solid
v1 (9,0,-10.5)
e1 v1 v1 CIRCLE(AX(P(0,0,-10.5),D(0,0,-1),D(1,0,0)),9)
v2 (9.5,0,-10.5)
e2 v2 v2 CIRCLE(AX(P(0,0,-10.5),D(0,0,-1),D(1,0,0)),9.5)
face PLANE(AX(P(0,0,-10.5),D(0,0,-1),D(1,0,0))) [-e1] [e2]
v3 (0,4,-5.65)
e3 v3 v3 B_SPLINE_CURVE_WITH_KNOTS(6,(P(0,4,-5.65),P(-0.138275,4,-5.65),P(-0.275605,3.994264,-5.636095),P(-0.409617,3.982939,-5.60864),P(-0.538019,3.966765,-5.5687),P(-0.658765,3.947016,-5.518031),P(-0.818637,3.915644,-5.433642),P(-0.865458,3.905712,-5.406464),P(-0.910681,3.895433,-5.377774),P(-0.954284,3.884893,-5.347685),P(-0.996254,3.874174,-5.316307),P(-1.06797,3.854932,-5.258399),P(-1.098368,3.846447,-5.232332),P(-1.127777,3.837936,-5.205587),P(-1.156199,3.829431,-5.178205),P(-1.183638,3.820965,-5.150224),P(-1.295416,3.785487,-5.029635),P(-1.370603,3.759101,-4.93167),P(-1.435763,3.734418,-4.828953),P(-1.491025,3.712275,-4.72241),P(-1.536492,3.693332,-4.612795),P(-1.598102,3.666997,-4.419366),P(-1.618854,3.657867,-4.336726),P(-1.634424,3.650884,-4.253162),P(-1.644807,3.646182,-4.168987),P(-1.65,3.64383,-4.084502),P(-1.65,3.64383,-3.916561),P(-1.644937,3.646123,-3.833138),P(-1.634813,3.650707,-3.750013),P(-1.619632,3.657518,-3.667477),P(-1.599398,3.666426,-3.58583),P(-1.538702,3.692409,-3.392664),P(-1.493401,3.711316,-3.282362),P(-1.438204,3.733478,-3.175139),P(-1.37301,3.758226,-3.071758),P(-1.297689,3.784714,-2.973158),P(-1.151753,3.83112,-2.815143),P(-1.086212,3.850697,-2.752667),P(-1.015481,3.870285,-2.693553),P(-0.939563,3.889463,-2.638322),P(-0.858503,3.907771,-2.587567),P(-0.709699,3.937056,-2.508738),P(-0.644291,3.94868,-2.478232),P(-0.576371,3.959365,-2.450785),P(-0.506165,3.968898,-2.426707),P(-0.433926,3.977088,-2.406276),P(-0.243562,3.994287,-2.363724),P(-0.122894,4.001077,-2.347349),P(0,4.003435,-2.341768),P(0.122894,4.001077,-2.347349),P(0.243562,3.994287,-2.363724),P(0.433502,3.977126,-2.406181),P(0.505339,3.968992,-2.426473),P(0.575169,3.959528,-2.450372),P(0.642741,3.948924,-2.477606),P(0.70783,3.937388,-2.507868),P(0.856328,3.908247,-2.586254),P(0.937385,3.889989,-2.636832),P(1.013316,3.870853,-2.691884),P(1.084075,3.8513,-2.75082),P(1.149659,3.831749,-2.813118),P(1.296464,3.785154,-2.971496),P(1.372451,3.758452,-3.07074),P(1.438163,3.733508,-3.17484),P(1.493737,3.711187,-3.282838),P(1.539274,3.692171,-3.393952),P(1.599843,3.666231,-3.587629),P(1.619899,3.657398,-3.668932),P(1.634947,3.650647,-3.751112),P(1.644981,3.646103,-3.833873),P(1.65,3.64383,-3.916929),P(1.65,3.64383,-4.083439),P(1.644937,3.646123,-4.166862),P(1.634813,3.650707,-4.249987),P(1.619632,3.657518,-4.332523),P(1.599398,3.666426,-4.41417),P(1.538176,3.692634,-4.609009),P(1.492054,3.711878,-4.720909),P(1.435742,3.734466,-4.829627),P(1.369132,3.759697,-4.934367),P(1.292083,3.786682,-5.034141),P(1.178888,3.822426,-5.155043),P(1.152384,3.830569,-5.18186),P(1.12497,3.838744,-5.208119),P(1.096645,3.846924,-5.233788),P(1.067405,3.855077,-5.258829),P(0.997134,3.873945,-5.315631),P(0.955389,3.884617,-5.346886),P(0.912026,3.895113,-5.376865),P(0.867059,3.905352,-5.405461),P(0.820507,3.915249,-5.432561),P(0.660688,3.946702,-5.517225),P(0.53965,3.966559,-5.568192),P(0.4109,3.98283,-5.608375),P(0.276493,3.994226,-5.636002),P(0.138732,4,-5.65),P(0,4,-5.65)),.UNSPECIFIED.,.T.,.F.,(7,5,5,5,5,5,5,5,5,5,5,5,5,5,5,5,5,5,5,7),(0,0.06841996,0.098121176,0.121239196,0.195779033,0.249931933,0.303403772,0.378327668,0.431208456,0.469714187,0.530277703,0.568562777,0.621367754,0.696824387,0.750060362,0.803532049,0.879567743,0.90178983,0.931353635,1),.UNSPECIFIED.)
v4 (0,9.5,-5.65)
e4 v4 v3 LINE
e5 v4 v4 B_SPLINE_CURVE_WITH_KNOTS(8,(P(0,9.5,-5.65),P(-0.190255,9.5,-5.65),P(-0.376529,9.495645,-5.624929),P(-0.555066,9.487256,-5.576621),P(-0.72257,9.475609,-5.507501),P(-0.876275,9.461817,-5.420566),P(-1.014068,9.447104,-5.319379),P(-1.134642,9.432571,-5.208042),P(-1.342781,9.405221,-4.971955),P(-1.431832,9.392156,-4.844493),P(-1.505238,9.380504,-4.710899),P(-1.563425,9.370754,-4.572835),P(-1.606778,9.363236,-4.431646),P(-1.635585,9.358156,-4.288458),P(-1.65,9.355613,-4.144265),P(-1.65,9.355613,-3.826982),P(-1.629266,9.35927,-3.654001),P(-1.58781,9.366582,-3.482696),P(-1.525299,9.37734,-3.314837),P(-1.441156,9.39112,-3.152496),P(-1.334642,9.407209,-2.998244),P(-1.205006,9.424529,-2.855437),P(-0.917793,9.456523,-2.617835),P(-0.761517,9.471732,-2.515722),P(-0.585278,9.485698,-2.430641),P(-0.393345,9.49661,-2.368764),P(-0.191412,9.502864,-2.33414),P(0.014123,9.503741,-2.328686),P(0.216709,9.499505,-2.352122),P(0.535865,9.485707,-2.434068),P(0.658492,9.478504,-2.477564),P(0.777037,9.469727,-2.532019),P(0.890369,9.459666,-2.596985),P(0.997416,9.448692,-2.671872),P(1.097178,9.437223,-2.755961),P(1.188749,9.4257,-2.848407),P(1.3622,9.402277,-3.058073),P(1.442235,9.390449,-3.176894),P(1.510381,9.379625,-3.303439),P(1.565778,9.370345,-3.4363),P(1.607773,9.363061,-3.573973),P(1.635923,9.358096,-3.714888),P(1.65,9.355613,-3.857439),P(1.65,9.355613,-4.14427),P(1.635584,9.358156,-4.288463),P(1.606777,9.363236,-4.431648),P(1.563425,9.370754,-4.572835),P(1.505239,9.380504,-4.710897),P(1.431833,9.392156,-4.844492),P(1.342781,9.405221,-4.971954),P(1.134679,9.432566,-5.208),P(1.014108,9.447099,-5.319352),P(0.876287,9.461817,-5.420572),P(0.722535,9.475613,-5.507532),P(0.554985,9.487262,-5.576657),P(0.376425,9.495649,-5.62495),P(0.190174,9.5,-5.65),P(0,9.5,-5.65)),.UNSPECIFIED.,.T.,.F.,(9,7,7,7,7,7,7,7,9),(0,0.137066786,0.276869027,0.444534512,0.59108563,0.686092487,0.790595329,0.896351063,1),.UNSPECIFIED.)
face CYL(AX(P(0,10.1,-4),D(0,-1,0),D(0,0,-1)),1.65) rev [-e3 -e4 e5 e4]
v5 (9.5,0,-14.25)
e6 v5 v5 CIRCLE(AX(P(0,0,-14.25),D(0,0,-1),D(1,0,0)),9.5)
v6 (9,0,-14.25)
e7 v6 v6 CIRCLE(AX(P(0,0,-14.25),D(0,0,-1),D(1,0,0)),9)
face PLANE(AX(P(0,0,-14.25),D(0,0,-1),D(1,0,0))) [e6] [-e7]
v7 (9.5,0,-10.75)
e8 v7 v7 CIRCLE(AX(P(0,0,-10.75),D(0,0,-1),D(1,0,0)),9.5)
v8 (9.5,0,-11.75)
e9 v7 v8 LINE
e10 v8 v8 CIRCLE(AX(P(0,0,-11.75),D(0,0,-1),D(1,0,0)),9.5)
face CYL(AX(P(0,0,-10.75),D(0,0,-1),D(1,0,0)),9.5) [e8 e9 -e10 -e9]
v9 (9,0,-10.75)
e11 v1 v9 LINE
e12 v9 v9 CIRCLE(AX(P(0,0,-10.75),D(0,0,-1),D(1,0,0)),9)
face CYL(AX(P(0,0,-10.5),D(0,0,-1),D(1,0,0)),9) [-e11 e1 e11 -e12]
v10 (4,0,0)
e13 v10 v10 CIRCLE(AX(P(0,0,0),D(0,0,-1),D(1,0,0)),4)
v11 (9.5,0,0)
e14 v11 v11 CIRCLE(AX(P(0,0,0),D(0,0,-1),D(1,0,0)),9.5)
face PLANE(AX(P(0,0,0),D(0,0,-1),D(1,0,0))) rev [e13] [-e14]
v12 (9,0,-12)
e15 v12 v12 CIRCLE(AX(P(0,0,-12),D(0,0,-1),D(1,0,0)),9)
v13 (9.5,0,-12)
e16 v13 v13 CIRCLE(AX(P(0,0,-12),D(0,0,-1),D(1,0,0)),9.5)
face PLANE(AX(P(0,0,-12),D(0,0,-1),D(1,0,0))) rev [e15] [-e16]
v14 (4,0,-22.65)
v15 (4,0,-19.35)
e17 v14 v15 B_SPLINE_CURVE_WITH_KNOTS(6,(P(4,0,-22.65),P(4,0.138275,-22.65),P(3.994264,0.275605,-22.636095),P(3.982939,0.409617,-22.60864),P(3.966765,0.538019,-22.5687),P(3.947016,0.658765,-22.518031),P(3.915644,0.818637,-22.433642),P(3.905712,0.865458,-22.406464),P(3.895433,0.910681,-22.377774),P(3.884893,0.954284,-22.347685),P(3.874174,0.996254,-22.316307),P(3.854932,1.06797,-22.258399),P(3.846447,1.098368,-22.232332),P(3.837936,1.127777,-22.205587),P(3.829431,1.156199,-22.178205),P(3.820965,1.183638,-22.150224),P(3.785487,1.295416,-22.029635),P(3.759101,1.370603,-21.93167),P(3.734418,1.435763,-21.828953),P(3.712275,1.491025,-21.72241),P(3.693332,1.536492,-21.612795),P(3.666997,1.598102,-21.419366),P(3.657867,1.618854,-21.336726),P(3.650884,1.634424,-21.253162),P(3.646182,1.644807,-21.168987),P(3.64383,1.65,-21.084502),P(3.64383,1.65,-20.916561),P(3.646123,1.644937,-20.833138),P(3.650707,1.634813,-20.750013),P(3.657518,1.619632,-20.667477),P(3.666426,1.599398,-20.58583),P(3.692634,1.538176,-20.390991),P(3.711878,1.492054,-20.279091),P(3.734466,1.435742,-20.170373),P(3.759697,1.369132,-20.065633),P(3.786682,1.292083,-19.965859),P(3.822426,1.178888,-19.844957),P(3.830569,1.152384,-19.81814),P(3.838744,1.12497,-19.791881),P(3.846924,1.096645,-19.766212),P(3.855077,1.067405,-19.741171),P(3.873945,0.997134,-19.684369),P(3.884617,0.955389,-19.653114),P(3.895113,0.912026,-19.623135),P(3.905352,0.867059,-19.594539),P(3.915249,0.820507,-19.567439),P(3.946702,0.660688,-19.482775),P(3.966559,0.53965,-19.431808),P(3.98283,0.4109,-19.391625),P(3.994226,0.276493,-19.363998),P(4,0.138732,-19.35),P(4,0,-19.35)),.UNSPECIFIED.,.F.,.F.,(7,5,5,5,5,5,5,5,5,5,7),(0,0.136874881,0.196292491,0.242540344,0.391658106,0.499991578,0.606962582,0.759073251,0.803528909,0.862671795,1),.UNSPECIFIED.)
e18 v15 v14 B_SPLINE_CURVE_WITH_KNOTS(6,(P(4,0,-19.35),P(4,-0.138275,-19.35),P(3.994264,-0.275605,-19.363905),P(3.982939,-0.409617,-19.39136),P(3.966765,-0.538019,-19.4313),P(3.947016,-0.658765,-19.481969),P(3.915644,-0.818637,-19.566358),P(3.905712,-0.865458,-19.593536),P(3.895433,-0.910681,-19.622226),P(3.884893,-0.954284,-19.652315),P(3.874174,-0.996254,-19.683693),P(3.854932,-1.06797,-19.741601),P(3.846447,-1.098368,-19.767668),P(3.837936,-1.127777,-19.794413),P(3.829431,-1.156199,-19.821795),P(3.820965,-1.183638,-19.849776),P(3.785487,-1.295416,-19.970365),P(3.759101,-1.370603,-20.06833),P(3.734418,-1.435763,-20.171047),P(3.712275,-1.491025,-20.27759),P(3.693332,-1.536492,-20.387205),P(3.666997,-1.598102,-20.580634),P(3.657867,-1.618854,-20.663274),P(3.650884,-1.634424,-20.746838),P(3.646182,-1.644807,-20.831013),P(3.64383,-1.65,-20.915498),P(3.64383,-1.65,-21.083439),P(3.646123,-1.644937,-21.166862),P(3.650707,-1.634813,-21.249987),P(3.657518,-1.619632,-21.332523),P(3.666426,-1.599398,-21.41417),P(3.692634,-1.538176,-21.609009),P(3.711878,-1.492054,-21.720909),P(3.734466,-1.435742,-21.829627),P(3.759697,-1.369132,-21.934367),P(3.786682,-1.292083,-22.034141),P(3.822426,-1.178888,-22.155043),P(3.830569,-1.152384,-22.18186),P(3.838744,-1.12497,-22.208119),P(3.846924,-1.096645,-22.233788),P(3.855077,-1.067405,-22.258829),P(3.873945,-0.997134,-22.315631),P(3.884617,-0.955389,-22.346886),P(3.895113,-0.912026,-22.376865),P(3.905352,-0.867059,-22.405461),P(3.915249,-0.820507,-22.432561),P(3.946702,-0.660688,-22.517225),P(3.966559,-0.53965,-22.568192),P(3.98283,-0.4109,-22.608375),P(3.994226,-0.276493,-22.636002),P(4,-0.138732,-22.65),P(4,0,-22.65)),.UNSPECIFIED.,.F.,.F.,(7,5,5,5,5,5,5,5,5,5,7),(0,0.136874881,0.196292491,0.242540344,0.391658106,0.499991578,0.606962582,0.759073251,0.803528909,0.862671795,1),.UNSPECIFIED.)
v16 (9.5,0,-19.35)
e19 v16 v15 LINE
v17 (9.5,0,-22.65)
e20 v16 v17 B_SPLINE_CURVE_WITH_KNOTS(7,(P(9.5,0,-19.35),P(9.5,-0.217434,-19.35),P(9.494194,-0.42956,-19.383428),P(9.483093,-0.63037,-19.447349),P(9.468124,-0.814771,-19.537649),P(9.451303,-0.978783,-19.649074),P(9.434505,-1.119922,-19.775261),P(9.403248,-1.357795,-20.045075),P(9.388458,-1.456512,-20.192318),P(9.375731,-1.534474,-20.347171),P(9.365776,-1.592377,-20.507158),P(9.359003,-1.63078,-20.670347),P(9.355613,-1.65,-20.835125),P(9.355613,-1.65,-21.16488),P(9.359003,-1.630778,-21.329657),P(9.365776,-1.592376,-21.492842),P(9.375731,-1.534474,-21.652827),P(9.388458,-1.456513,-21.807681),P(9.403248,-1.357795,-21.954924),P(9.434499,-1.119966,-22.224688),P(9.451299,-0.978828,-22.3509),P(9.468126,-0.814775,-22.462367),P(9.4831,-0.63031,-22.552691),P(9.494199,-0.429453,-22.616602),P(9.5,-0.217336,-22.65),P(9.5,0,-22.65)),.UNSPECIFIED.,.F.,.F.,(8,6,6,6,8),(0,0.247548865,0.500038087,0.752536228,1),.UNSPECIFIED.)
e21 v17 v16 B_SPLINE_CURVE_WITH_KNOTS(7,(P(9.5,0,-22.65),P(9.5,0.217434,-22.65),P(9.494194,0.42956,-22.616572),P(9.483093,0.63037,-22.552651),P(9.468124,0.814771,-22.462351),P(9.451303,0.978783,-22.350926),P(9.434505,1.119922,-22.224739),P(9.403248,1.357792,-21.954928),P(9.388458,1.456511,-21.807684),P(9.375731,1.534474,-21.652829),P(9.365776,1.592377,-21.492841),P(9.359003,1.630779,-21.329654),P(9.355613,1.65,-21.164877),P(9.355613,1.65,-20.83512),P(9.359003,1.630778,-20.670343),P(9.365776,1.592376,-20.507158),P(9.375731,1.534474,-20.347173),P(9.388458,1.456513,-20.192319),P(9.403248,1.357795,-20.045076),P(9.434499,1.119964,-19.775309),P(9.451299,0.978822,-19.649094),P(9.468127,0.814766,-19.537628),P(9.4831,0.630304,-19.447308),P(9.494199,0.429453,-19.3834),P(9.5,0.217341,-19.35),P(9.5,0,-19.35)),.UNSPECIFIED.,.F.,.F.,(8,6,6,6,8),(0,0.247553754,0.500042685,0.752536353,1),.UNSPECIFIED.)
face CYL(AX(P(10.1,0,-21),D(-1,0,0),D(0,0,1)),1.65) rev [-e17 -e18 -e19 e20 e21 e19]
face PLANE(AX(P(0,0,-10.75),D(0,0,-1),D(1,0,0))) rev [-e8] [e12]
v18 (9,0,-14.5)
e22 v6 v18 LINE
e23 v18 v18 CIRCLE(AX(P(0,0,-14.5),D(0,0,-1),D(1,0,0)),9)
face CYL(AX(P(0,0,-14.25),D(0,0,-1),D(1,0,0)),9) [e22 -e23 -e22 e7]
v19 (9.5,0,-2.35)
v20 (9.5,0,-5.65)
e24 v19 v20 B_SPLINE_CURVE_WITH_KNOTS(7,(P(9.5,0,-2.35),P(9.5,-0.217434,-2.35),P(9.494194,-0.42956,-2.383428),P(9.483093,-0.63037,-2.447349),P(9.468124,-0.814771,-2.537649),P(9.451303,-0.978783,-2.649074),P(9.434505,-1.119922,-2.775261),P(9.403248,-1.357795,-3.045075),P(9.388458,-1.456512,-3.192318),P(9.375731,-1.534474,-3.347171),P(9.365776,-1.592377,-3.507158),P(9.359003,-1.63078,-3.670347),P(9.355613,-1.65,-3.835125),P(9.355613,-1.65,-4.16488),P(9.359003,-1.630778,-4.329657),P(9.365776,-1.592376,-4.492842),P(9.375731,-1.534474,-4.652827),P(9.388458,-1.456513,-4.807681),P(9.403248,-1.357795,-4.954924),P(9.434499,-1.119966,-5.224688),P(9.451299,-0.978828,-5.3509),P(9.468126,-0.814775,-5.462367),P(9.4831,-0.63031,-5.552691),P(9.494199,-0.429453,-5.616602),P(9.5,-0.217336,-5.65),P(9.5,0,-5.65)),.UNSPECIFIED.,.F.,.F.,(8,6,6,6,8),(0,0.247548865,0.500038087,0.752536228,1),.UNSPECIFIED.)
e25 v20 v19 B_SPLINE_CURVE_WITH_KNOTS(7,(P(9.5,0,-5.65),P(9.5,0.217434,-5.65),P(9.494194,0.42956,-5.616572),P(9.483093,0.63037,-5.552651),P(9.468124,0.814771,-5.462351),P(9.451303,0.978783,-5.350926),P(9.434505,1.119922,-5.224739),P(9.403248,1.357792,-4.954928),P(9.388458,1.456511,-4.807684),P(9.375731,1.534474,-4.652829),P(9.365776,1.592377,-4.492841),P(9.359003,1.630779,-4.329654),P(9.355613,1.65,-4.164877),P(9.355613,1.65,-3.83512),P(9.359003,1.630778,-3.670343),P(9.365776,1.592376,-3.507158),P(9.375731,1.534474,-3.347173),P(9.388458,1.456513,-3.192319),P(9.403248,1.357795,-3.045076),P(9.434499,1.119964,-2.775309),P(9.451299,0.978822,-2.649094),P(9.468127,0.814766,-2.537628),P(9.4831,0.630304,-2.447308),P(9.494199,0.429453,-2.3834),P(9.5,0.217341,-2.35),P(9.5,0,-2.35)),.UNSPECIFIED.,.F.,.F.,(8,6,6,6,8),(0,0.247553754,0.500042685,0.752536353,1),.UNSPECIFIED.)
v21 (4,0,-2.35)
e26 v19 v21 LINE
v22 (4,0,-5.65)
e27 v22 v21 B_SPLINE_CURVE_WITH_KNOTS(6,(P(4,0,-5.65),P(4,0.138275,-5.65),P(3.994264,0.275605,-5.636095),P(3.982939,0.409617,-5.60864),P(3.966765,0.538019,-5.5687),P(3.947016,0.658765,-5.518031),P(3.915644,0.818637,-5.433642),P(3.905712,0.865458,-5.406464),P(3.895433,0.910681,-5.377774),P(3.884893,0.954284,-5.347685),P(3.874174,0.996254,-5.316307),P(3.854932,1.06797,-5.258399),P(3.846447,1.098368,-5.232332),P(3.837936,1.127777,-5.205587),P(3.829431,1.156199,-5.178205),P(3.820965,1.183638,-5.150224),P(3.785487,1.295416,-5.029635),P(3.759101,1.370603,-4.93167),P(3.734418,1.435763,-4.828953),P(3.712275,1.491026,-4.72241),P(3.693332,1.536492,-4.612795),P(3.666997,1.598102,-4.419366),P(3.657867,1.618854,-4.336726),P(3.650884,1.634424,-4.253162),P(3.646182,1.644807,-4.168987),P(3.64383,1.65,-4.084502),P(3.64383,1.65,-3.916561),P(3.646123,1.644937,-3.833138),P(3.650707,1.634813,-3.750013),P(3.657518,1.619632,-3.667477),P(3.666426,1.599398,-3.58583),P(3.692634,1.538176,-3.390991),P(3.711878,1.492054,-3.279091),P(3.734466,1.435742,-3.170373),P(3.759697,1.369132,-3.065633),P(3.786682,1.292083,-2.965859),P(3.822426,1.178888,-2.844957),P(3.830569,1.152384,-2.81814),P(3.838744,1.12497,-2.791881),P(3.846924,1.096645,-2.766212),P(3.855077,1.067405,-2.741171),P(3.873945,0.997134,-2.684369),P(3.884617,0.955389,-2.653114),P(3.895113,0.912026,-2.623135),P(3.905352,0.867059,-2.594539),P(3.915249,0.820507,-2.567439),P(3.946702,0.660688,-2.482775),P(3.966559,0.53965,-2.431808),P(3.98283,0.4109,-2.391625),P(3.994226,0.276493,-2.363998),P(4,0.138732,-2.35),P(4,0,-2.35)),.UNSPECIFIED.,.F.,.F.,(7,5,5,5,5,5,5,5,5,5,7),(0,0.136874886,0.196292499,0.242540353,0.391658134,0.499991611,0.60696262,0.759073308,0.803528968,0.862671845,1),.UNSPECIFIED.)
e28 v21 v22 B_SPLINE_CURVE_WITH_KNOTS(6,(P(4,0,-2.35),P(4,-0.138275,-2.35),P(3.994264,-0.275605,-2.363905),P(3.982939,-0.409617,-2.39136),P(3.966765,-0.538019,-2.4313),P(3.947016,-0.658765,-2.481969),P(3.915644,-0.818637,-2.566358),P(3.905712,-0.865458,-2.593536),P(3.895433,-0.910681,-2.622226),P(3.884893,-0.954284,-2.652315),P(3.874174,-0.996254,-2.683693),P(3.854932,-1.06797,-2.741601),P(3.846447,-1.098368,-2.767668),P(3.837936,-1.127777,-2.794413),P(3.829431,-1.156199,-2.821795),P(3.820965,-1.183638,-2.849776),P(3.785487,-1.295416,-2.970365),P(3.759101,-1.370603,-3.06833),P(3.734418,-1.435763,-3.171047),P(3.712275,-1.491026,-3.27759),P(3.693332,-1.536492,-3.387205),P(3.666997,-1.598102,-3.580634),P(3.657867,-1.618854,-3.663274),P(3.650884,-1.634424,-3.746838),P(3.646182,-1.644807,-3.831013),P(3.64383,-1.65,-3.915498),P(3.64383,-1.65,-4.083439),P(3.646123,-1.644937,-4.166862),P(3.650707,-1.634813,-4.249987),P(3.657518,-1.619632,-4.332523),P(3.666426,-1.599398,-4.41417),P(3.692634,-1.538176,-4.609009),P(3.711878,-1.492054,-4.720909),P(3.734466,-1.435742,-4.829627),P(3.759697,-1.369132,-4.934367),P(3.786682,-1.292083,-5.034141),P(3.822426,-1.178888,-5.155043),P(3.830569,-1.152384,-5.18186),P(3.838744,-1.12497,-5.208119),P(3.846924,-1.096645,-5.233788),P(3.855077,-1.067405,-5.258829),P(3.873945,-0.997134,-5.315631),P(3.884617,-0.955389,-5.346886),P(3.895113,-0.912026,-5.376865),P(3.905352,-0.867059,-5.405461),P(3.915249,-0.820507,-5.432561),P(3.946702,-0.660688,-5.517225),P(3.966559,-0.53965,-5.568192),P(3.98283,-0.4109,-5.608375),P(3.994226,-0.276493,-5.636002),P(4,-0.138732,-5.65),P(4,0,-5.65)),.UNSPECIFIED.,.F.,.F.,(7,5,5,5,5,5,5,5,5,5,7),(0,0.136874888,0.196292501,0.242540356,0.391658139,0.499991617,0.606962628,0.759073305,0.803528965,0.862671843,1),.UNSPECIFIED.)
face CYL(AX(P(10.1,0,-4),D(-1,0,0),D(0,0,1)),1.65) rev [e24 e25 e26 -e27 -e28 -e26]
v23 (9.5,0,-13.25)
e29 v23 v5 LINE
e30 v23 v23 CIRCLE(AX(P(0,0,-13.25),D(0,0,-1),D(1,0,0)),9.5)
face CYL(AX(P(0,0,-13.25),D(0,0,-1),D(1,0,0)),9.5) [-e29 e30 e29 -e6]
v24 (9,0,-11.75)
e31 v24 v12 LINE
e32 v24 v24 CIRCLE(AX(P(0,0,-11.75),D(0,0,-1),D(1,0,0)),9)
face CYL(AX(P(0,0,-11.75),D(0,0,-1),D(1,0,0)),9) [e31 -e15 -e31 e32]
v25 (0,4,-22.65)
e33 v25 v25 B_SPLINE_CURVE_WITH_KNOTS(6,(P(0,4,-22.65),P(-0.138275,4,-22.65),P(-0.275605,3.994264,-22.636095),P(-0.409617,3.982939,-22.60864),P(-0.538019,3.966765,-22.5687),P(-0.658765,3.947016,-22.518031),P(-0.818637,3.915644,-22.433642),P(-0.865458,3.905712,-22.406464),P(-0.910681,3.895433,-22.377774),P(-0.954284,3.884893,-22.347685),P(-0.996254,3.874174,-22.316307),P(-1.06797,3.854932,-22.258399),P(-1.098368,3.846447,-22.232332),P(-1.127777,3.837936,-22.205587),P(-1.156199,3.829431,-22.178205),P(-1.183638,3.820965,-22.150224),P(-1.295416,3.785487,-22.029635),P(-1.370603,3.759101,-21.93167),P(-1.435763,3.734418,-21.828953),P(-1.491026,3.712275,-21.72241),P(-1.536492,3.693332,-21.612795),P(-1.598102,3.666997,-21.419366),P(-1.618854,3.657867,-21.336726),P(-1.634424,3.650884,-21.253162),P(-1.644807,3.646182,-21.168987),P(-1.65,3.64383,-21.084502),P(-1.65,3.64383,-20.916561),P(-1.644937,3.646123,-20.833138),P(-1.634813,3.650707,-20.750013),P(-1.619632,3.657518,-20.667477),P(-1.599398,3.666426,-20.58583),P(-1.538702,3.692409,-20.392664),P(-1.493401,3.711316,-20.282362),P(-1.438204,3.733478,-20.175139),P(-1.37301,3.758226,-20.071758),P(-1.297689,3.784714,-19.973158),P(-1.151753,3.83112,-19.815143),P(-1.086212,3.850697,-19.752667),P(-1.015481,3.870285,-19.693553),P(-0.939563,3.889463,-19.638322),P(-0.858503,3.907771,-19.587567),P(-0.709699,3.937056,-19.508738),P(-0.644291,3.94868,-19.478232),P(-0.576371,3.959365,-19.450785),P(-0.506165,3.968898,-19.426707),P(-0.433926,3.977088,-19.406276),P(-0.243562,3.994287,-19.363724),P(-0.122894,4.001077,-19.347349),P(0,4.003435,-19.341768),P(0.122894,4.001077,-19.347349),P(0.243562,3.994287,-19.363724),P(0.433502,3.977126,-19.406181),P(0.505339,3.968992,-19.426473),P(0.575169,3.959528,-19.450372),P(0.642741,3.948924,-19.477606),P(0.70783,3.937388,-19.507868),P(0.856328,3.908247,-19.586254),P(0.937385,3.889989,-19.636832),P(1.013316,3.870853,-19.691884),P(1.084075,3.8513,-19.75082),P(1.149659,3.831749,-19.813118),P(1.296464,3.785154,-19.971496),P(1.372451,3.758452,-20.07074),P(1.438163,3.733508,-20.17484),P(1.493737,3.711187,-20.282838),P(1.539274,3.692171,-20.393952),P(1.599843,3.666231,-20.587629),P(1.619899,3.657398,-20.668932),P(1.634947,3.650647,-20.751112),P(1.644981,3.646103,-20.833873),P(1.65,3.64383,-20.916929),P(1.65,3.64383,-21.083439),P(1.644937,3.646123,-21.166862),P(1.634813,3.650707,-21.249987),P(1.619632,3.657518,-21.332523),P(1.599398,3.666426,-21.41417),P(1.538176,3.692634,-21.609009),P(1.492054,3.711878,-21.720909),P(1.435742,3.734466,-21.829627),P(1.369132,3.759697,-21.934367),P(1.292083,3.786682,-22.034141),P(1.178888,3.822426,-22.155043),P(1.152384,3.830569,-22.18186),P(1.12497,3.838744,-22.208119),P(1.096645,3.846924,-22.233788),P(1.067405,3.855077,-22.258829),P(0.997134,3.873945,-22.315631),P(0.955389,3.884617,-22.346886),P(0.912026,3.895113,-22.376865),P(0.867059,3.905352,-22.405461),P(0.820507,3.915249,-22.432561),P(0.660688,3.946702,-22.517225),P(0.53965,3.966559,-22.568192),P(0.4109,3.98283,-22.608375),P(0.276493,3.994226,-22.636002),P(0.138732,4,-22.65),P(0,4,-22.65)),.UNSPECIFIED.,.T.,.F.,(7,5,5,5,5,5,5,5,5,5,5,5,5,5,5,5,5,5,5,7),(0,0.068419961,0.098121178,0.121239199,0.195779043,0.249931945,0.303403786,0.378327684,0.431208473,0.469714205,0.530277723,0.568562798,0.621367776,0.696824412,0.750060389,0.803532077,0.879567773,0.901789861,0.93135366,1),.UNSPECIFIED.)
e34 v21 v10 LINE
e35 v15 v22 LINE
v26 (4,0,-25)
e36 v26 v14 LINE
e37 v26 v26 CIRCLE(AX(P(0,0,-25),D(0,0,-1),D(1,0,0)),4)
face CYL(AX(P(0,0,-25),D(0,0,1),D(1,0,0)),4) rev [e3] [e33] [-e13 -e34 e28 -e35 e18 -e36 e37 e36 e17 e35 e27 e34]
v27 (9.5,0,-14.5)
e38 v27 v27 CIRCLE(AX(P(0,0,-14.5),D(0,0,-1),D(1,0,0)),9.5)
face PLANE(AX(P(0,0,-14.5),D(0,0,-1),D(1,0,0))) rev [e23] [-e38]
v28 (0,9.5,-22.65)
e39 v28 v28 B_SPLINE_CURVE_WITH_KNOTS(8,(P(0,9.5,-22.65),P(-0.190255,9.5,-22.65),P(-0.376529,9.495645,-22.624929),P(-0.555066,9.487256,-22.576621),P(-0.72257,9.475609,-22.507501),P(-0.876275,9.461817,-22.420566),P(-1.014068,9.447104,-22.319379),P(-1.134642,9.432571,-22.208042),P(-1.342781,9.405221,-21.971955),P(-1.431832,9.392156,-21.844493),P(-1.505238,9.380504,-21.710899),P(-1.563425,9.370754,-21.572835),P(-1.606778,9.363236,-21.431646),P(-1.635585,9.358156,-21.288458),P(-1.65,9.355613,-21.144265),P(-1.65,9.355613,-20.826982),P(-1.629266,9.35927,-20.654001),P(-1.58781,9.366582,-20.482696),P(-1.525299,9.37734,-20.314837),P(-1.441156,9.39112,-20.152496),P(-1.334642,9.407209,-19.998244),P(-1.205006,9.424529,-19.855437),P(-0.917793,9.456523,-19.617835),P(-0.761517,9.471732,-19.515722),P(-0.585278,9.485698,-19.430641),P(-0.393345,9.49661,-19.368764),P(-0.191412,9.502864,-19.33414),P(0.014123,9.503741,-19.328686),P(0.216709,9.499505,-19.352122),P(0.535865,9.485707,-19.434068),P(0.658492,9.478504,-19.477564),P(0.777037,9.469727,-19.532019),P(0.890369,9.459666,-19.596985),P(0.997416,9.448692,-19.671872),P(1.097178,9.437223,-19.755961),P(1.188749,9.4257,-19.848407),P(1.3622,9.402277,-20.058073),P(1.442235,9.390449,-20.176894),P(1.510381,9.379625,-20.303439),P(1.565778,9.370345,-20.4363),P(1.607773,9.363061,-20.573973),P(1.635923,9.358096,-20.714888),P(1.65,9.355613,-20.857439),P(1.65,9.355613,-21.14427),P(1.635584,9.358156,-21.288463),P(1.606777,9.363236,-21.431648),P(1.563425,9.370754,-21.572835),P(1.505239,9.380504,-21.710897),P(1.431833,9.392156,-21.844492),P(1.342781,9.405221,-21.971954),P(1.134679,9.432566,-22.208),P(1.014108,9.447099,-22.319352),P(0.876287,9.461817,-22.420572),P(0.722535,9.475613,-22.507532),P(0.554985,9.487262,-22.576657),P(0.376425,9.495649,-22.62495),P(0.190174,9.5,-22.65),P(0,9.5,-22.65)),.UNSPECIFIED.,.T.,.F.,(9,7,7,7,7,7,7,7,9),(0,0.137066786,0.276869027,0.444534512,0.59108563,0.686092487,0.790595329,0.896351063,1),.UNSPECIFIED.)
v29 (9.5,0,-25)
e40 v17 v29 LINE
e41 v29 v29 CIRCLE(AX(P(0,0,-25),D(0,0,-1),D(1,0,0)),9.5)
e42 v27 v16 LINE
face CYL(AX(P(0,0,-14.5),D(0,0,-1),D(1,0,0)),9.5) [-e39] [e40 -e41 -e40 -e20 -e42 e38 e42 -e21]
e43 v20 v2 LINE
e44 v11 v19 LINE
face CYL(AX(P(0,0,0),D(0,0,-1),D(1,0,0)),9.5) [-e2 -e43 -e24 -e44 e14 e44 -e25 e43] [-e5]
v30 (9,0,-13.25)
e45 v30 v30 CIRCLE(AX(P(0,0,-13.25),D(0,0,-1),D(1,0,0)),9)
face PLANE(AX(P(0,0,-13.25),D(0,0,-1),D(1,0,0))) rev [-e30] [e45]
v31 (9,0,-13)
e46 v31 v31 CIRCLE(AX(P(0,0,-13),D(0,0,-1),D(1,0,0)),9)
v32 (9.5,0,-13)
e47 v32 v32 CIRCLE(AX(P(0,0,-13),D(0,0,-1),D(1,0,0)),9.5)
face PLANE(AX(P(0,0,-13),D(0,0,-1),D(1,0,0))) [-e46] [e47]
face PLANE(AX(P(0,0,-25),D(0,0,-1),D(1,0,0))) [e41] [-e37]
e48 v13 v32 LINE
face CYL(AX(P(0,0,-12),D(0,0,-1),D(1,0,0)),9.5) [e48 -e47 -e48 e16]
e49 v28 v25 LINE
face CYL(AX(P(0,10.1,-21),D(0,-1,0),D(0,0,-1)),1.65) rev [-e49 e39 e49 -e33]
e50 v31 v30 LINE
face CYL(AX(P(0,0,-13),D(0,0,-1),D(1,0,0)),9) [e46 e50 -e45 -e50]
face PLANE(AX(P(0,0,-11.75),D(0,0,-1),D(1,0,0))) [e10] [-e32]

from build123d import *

# Parameters (mm, degrees)
M4X0_7_TAPPED_HOLE1_AT_2_COUNT = 2
M4X0_7_TAPPED_HOLE1_AT_2_PITCH = 17
M4X0_7_TAPPED_HOLE2_AT_2_COUNT = 2
M4X0_7_TAPPED_HOLE2_AT_2_PITCH = 17


with BuildPart() as part:
    # Sketch1 → Revolve3 (revolve)
    with BuildSketch(Plane(origin=(0, 0, 0), x_dir=(1, 0, 0), z_dir=(0, 1, 0))):
        Polygon((4, 0), (9.5, 0), (9.5, 10.5), (9, 10.5), (9, 10.75), (9.5, 10.75), (9.5, 11.75), (9, 11.75), (9, 12), (9.5, 12), (9.5, 13), (9, 13), (9, 13.25), (9.5, 13.25), (9.5, 14.25), (9, 14.25), (9, 14.5), (9.5, 14.5), (9.5, 25), (4, 25), align=None)
    revolve(axis=Axis((0, 0, 0), (0, 0, -1)))

    # Sketch3 → M4x0.7 Tapped Hole1 (revolve, cut)
    with BuildSketch(Plane(origin=(0, 0, -4), x_dir=(0, 0, -1), z_dir=(1, 0, 0))):
        Polygon((0, 0), (0, 11.091420021), (1.65, 10.1), (1.65, 0), align=None)
    m4x0_7_tapped_hole1 = revolve(axis=Axis((0, -6.35, -4), (0, 1, 0)), mode=Mode.SUBTRACT)

    # M4x0.7 Tapped Hole1 at 2: M4x0.7 Tapped Hole1 ×2
    with Locations(*[(0, 0, -i * M4X0_7_TAPPED_HOLE1_AT_2_PITCH) for i in range(1, M4X0_7_TAPPED_HOLE1_AT_2_COUNT)]):
        add(m4x0_7_tapped_hole1, mode=Mode.SUBTRACT)

    # Sketch7 → M4x0.7 Tapped Hole2 (revolve, cut)
    with BuildSketch(Plane(origin=(0, 0, -4), x_dir=(0, 0, 1), z_dir=(0, 1, 0))):
        Polygon((0, 0), (0, 11.091420021), (1.65, 10.1), (1.65, 0), align=None)
    m4x0_7_tapped_hole2 = revolve(axis=Axis((-6.35, 0, -4), (1, 0, 0)), mode=Mode.SUBTRACT)

    # M4x0.7 Tapped Hole2 at 2: M4x0.7 Tapped Hole2 ×2
    with Locations(*[(0, 0, -i * M4X0_7_TAPPED_HOLE2_AT_2_PITCH) for i in range(1, M4X0_7_TAPPED_HOLE2_AT_2_COUNT)]):
        add(m4x0_7_tapped_hole2, mode=Mode.SUBTRACT)


solid = part.part
